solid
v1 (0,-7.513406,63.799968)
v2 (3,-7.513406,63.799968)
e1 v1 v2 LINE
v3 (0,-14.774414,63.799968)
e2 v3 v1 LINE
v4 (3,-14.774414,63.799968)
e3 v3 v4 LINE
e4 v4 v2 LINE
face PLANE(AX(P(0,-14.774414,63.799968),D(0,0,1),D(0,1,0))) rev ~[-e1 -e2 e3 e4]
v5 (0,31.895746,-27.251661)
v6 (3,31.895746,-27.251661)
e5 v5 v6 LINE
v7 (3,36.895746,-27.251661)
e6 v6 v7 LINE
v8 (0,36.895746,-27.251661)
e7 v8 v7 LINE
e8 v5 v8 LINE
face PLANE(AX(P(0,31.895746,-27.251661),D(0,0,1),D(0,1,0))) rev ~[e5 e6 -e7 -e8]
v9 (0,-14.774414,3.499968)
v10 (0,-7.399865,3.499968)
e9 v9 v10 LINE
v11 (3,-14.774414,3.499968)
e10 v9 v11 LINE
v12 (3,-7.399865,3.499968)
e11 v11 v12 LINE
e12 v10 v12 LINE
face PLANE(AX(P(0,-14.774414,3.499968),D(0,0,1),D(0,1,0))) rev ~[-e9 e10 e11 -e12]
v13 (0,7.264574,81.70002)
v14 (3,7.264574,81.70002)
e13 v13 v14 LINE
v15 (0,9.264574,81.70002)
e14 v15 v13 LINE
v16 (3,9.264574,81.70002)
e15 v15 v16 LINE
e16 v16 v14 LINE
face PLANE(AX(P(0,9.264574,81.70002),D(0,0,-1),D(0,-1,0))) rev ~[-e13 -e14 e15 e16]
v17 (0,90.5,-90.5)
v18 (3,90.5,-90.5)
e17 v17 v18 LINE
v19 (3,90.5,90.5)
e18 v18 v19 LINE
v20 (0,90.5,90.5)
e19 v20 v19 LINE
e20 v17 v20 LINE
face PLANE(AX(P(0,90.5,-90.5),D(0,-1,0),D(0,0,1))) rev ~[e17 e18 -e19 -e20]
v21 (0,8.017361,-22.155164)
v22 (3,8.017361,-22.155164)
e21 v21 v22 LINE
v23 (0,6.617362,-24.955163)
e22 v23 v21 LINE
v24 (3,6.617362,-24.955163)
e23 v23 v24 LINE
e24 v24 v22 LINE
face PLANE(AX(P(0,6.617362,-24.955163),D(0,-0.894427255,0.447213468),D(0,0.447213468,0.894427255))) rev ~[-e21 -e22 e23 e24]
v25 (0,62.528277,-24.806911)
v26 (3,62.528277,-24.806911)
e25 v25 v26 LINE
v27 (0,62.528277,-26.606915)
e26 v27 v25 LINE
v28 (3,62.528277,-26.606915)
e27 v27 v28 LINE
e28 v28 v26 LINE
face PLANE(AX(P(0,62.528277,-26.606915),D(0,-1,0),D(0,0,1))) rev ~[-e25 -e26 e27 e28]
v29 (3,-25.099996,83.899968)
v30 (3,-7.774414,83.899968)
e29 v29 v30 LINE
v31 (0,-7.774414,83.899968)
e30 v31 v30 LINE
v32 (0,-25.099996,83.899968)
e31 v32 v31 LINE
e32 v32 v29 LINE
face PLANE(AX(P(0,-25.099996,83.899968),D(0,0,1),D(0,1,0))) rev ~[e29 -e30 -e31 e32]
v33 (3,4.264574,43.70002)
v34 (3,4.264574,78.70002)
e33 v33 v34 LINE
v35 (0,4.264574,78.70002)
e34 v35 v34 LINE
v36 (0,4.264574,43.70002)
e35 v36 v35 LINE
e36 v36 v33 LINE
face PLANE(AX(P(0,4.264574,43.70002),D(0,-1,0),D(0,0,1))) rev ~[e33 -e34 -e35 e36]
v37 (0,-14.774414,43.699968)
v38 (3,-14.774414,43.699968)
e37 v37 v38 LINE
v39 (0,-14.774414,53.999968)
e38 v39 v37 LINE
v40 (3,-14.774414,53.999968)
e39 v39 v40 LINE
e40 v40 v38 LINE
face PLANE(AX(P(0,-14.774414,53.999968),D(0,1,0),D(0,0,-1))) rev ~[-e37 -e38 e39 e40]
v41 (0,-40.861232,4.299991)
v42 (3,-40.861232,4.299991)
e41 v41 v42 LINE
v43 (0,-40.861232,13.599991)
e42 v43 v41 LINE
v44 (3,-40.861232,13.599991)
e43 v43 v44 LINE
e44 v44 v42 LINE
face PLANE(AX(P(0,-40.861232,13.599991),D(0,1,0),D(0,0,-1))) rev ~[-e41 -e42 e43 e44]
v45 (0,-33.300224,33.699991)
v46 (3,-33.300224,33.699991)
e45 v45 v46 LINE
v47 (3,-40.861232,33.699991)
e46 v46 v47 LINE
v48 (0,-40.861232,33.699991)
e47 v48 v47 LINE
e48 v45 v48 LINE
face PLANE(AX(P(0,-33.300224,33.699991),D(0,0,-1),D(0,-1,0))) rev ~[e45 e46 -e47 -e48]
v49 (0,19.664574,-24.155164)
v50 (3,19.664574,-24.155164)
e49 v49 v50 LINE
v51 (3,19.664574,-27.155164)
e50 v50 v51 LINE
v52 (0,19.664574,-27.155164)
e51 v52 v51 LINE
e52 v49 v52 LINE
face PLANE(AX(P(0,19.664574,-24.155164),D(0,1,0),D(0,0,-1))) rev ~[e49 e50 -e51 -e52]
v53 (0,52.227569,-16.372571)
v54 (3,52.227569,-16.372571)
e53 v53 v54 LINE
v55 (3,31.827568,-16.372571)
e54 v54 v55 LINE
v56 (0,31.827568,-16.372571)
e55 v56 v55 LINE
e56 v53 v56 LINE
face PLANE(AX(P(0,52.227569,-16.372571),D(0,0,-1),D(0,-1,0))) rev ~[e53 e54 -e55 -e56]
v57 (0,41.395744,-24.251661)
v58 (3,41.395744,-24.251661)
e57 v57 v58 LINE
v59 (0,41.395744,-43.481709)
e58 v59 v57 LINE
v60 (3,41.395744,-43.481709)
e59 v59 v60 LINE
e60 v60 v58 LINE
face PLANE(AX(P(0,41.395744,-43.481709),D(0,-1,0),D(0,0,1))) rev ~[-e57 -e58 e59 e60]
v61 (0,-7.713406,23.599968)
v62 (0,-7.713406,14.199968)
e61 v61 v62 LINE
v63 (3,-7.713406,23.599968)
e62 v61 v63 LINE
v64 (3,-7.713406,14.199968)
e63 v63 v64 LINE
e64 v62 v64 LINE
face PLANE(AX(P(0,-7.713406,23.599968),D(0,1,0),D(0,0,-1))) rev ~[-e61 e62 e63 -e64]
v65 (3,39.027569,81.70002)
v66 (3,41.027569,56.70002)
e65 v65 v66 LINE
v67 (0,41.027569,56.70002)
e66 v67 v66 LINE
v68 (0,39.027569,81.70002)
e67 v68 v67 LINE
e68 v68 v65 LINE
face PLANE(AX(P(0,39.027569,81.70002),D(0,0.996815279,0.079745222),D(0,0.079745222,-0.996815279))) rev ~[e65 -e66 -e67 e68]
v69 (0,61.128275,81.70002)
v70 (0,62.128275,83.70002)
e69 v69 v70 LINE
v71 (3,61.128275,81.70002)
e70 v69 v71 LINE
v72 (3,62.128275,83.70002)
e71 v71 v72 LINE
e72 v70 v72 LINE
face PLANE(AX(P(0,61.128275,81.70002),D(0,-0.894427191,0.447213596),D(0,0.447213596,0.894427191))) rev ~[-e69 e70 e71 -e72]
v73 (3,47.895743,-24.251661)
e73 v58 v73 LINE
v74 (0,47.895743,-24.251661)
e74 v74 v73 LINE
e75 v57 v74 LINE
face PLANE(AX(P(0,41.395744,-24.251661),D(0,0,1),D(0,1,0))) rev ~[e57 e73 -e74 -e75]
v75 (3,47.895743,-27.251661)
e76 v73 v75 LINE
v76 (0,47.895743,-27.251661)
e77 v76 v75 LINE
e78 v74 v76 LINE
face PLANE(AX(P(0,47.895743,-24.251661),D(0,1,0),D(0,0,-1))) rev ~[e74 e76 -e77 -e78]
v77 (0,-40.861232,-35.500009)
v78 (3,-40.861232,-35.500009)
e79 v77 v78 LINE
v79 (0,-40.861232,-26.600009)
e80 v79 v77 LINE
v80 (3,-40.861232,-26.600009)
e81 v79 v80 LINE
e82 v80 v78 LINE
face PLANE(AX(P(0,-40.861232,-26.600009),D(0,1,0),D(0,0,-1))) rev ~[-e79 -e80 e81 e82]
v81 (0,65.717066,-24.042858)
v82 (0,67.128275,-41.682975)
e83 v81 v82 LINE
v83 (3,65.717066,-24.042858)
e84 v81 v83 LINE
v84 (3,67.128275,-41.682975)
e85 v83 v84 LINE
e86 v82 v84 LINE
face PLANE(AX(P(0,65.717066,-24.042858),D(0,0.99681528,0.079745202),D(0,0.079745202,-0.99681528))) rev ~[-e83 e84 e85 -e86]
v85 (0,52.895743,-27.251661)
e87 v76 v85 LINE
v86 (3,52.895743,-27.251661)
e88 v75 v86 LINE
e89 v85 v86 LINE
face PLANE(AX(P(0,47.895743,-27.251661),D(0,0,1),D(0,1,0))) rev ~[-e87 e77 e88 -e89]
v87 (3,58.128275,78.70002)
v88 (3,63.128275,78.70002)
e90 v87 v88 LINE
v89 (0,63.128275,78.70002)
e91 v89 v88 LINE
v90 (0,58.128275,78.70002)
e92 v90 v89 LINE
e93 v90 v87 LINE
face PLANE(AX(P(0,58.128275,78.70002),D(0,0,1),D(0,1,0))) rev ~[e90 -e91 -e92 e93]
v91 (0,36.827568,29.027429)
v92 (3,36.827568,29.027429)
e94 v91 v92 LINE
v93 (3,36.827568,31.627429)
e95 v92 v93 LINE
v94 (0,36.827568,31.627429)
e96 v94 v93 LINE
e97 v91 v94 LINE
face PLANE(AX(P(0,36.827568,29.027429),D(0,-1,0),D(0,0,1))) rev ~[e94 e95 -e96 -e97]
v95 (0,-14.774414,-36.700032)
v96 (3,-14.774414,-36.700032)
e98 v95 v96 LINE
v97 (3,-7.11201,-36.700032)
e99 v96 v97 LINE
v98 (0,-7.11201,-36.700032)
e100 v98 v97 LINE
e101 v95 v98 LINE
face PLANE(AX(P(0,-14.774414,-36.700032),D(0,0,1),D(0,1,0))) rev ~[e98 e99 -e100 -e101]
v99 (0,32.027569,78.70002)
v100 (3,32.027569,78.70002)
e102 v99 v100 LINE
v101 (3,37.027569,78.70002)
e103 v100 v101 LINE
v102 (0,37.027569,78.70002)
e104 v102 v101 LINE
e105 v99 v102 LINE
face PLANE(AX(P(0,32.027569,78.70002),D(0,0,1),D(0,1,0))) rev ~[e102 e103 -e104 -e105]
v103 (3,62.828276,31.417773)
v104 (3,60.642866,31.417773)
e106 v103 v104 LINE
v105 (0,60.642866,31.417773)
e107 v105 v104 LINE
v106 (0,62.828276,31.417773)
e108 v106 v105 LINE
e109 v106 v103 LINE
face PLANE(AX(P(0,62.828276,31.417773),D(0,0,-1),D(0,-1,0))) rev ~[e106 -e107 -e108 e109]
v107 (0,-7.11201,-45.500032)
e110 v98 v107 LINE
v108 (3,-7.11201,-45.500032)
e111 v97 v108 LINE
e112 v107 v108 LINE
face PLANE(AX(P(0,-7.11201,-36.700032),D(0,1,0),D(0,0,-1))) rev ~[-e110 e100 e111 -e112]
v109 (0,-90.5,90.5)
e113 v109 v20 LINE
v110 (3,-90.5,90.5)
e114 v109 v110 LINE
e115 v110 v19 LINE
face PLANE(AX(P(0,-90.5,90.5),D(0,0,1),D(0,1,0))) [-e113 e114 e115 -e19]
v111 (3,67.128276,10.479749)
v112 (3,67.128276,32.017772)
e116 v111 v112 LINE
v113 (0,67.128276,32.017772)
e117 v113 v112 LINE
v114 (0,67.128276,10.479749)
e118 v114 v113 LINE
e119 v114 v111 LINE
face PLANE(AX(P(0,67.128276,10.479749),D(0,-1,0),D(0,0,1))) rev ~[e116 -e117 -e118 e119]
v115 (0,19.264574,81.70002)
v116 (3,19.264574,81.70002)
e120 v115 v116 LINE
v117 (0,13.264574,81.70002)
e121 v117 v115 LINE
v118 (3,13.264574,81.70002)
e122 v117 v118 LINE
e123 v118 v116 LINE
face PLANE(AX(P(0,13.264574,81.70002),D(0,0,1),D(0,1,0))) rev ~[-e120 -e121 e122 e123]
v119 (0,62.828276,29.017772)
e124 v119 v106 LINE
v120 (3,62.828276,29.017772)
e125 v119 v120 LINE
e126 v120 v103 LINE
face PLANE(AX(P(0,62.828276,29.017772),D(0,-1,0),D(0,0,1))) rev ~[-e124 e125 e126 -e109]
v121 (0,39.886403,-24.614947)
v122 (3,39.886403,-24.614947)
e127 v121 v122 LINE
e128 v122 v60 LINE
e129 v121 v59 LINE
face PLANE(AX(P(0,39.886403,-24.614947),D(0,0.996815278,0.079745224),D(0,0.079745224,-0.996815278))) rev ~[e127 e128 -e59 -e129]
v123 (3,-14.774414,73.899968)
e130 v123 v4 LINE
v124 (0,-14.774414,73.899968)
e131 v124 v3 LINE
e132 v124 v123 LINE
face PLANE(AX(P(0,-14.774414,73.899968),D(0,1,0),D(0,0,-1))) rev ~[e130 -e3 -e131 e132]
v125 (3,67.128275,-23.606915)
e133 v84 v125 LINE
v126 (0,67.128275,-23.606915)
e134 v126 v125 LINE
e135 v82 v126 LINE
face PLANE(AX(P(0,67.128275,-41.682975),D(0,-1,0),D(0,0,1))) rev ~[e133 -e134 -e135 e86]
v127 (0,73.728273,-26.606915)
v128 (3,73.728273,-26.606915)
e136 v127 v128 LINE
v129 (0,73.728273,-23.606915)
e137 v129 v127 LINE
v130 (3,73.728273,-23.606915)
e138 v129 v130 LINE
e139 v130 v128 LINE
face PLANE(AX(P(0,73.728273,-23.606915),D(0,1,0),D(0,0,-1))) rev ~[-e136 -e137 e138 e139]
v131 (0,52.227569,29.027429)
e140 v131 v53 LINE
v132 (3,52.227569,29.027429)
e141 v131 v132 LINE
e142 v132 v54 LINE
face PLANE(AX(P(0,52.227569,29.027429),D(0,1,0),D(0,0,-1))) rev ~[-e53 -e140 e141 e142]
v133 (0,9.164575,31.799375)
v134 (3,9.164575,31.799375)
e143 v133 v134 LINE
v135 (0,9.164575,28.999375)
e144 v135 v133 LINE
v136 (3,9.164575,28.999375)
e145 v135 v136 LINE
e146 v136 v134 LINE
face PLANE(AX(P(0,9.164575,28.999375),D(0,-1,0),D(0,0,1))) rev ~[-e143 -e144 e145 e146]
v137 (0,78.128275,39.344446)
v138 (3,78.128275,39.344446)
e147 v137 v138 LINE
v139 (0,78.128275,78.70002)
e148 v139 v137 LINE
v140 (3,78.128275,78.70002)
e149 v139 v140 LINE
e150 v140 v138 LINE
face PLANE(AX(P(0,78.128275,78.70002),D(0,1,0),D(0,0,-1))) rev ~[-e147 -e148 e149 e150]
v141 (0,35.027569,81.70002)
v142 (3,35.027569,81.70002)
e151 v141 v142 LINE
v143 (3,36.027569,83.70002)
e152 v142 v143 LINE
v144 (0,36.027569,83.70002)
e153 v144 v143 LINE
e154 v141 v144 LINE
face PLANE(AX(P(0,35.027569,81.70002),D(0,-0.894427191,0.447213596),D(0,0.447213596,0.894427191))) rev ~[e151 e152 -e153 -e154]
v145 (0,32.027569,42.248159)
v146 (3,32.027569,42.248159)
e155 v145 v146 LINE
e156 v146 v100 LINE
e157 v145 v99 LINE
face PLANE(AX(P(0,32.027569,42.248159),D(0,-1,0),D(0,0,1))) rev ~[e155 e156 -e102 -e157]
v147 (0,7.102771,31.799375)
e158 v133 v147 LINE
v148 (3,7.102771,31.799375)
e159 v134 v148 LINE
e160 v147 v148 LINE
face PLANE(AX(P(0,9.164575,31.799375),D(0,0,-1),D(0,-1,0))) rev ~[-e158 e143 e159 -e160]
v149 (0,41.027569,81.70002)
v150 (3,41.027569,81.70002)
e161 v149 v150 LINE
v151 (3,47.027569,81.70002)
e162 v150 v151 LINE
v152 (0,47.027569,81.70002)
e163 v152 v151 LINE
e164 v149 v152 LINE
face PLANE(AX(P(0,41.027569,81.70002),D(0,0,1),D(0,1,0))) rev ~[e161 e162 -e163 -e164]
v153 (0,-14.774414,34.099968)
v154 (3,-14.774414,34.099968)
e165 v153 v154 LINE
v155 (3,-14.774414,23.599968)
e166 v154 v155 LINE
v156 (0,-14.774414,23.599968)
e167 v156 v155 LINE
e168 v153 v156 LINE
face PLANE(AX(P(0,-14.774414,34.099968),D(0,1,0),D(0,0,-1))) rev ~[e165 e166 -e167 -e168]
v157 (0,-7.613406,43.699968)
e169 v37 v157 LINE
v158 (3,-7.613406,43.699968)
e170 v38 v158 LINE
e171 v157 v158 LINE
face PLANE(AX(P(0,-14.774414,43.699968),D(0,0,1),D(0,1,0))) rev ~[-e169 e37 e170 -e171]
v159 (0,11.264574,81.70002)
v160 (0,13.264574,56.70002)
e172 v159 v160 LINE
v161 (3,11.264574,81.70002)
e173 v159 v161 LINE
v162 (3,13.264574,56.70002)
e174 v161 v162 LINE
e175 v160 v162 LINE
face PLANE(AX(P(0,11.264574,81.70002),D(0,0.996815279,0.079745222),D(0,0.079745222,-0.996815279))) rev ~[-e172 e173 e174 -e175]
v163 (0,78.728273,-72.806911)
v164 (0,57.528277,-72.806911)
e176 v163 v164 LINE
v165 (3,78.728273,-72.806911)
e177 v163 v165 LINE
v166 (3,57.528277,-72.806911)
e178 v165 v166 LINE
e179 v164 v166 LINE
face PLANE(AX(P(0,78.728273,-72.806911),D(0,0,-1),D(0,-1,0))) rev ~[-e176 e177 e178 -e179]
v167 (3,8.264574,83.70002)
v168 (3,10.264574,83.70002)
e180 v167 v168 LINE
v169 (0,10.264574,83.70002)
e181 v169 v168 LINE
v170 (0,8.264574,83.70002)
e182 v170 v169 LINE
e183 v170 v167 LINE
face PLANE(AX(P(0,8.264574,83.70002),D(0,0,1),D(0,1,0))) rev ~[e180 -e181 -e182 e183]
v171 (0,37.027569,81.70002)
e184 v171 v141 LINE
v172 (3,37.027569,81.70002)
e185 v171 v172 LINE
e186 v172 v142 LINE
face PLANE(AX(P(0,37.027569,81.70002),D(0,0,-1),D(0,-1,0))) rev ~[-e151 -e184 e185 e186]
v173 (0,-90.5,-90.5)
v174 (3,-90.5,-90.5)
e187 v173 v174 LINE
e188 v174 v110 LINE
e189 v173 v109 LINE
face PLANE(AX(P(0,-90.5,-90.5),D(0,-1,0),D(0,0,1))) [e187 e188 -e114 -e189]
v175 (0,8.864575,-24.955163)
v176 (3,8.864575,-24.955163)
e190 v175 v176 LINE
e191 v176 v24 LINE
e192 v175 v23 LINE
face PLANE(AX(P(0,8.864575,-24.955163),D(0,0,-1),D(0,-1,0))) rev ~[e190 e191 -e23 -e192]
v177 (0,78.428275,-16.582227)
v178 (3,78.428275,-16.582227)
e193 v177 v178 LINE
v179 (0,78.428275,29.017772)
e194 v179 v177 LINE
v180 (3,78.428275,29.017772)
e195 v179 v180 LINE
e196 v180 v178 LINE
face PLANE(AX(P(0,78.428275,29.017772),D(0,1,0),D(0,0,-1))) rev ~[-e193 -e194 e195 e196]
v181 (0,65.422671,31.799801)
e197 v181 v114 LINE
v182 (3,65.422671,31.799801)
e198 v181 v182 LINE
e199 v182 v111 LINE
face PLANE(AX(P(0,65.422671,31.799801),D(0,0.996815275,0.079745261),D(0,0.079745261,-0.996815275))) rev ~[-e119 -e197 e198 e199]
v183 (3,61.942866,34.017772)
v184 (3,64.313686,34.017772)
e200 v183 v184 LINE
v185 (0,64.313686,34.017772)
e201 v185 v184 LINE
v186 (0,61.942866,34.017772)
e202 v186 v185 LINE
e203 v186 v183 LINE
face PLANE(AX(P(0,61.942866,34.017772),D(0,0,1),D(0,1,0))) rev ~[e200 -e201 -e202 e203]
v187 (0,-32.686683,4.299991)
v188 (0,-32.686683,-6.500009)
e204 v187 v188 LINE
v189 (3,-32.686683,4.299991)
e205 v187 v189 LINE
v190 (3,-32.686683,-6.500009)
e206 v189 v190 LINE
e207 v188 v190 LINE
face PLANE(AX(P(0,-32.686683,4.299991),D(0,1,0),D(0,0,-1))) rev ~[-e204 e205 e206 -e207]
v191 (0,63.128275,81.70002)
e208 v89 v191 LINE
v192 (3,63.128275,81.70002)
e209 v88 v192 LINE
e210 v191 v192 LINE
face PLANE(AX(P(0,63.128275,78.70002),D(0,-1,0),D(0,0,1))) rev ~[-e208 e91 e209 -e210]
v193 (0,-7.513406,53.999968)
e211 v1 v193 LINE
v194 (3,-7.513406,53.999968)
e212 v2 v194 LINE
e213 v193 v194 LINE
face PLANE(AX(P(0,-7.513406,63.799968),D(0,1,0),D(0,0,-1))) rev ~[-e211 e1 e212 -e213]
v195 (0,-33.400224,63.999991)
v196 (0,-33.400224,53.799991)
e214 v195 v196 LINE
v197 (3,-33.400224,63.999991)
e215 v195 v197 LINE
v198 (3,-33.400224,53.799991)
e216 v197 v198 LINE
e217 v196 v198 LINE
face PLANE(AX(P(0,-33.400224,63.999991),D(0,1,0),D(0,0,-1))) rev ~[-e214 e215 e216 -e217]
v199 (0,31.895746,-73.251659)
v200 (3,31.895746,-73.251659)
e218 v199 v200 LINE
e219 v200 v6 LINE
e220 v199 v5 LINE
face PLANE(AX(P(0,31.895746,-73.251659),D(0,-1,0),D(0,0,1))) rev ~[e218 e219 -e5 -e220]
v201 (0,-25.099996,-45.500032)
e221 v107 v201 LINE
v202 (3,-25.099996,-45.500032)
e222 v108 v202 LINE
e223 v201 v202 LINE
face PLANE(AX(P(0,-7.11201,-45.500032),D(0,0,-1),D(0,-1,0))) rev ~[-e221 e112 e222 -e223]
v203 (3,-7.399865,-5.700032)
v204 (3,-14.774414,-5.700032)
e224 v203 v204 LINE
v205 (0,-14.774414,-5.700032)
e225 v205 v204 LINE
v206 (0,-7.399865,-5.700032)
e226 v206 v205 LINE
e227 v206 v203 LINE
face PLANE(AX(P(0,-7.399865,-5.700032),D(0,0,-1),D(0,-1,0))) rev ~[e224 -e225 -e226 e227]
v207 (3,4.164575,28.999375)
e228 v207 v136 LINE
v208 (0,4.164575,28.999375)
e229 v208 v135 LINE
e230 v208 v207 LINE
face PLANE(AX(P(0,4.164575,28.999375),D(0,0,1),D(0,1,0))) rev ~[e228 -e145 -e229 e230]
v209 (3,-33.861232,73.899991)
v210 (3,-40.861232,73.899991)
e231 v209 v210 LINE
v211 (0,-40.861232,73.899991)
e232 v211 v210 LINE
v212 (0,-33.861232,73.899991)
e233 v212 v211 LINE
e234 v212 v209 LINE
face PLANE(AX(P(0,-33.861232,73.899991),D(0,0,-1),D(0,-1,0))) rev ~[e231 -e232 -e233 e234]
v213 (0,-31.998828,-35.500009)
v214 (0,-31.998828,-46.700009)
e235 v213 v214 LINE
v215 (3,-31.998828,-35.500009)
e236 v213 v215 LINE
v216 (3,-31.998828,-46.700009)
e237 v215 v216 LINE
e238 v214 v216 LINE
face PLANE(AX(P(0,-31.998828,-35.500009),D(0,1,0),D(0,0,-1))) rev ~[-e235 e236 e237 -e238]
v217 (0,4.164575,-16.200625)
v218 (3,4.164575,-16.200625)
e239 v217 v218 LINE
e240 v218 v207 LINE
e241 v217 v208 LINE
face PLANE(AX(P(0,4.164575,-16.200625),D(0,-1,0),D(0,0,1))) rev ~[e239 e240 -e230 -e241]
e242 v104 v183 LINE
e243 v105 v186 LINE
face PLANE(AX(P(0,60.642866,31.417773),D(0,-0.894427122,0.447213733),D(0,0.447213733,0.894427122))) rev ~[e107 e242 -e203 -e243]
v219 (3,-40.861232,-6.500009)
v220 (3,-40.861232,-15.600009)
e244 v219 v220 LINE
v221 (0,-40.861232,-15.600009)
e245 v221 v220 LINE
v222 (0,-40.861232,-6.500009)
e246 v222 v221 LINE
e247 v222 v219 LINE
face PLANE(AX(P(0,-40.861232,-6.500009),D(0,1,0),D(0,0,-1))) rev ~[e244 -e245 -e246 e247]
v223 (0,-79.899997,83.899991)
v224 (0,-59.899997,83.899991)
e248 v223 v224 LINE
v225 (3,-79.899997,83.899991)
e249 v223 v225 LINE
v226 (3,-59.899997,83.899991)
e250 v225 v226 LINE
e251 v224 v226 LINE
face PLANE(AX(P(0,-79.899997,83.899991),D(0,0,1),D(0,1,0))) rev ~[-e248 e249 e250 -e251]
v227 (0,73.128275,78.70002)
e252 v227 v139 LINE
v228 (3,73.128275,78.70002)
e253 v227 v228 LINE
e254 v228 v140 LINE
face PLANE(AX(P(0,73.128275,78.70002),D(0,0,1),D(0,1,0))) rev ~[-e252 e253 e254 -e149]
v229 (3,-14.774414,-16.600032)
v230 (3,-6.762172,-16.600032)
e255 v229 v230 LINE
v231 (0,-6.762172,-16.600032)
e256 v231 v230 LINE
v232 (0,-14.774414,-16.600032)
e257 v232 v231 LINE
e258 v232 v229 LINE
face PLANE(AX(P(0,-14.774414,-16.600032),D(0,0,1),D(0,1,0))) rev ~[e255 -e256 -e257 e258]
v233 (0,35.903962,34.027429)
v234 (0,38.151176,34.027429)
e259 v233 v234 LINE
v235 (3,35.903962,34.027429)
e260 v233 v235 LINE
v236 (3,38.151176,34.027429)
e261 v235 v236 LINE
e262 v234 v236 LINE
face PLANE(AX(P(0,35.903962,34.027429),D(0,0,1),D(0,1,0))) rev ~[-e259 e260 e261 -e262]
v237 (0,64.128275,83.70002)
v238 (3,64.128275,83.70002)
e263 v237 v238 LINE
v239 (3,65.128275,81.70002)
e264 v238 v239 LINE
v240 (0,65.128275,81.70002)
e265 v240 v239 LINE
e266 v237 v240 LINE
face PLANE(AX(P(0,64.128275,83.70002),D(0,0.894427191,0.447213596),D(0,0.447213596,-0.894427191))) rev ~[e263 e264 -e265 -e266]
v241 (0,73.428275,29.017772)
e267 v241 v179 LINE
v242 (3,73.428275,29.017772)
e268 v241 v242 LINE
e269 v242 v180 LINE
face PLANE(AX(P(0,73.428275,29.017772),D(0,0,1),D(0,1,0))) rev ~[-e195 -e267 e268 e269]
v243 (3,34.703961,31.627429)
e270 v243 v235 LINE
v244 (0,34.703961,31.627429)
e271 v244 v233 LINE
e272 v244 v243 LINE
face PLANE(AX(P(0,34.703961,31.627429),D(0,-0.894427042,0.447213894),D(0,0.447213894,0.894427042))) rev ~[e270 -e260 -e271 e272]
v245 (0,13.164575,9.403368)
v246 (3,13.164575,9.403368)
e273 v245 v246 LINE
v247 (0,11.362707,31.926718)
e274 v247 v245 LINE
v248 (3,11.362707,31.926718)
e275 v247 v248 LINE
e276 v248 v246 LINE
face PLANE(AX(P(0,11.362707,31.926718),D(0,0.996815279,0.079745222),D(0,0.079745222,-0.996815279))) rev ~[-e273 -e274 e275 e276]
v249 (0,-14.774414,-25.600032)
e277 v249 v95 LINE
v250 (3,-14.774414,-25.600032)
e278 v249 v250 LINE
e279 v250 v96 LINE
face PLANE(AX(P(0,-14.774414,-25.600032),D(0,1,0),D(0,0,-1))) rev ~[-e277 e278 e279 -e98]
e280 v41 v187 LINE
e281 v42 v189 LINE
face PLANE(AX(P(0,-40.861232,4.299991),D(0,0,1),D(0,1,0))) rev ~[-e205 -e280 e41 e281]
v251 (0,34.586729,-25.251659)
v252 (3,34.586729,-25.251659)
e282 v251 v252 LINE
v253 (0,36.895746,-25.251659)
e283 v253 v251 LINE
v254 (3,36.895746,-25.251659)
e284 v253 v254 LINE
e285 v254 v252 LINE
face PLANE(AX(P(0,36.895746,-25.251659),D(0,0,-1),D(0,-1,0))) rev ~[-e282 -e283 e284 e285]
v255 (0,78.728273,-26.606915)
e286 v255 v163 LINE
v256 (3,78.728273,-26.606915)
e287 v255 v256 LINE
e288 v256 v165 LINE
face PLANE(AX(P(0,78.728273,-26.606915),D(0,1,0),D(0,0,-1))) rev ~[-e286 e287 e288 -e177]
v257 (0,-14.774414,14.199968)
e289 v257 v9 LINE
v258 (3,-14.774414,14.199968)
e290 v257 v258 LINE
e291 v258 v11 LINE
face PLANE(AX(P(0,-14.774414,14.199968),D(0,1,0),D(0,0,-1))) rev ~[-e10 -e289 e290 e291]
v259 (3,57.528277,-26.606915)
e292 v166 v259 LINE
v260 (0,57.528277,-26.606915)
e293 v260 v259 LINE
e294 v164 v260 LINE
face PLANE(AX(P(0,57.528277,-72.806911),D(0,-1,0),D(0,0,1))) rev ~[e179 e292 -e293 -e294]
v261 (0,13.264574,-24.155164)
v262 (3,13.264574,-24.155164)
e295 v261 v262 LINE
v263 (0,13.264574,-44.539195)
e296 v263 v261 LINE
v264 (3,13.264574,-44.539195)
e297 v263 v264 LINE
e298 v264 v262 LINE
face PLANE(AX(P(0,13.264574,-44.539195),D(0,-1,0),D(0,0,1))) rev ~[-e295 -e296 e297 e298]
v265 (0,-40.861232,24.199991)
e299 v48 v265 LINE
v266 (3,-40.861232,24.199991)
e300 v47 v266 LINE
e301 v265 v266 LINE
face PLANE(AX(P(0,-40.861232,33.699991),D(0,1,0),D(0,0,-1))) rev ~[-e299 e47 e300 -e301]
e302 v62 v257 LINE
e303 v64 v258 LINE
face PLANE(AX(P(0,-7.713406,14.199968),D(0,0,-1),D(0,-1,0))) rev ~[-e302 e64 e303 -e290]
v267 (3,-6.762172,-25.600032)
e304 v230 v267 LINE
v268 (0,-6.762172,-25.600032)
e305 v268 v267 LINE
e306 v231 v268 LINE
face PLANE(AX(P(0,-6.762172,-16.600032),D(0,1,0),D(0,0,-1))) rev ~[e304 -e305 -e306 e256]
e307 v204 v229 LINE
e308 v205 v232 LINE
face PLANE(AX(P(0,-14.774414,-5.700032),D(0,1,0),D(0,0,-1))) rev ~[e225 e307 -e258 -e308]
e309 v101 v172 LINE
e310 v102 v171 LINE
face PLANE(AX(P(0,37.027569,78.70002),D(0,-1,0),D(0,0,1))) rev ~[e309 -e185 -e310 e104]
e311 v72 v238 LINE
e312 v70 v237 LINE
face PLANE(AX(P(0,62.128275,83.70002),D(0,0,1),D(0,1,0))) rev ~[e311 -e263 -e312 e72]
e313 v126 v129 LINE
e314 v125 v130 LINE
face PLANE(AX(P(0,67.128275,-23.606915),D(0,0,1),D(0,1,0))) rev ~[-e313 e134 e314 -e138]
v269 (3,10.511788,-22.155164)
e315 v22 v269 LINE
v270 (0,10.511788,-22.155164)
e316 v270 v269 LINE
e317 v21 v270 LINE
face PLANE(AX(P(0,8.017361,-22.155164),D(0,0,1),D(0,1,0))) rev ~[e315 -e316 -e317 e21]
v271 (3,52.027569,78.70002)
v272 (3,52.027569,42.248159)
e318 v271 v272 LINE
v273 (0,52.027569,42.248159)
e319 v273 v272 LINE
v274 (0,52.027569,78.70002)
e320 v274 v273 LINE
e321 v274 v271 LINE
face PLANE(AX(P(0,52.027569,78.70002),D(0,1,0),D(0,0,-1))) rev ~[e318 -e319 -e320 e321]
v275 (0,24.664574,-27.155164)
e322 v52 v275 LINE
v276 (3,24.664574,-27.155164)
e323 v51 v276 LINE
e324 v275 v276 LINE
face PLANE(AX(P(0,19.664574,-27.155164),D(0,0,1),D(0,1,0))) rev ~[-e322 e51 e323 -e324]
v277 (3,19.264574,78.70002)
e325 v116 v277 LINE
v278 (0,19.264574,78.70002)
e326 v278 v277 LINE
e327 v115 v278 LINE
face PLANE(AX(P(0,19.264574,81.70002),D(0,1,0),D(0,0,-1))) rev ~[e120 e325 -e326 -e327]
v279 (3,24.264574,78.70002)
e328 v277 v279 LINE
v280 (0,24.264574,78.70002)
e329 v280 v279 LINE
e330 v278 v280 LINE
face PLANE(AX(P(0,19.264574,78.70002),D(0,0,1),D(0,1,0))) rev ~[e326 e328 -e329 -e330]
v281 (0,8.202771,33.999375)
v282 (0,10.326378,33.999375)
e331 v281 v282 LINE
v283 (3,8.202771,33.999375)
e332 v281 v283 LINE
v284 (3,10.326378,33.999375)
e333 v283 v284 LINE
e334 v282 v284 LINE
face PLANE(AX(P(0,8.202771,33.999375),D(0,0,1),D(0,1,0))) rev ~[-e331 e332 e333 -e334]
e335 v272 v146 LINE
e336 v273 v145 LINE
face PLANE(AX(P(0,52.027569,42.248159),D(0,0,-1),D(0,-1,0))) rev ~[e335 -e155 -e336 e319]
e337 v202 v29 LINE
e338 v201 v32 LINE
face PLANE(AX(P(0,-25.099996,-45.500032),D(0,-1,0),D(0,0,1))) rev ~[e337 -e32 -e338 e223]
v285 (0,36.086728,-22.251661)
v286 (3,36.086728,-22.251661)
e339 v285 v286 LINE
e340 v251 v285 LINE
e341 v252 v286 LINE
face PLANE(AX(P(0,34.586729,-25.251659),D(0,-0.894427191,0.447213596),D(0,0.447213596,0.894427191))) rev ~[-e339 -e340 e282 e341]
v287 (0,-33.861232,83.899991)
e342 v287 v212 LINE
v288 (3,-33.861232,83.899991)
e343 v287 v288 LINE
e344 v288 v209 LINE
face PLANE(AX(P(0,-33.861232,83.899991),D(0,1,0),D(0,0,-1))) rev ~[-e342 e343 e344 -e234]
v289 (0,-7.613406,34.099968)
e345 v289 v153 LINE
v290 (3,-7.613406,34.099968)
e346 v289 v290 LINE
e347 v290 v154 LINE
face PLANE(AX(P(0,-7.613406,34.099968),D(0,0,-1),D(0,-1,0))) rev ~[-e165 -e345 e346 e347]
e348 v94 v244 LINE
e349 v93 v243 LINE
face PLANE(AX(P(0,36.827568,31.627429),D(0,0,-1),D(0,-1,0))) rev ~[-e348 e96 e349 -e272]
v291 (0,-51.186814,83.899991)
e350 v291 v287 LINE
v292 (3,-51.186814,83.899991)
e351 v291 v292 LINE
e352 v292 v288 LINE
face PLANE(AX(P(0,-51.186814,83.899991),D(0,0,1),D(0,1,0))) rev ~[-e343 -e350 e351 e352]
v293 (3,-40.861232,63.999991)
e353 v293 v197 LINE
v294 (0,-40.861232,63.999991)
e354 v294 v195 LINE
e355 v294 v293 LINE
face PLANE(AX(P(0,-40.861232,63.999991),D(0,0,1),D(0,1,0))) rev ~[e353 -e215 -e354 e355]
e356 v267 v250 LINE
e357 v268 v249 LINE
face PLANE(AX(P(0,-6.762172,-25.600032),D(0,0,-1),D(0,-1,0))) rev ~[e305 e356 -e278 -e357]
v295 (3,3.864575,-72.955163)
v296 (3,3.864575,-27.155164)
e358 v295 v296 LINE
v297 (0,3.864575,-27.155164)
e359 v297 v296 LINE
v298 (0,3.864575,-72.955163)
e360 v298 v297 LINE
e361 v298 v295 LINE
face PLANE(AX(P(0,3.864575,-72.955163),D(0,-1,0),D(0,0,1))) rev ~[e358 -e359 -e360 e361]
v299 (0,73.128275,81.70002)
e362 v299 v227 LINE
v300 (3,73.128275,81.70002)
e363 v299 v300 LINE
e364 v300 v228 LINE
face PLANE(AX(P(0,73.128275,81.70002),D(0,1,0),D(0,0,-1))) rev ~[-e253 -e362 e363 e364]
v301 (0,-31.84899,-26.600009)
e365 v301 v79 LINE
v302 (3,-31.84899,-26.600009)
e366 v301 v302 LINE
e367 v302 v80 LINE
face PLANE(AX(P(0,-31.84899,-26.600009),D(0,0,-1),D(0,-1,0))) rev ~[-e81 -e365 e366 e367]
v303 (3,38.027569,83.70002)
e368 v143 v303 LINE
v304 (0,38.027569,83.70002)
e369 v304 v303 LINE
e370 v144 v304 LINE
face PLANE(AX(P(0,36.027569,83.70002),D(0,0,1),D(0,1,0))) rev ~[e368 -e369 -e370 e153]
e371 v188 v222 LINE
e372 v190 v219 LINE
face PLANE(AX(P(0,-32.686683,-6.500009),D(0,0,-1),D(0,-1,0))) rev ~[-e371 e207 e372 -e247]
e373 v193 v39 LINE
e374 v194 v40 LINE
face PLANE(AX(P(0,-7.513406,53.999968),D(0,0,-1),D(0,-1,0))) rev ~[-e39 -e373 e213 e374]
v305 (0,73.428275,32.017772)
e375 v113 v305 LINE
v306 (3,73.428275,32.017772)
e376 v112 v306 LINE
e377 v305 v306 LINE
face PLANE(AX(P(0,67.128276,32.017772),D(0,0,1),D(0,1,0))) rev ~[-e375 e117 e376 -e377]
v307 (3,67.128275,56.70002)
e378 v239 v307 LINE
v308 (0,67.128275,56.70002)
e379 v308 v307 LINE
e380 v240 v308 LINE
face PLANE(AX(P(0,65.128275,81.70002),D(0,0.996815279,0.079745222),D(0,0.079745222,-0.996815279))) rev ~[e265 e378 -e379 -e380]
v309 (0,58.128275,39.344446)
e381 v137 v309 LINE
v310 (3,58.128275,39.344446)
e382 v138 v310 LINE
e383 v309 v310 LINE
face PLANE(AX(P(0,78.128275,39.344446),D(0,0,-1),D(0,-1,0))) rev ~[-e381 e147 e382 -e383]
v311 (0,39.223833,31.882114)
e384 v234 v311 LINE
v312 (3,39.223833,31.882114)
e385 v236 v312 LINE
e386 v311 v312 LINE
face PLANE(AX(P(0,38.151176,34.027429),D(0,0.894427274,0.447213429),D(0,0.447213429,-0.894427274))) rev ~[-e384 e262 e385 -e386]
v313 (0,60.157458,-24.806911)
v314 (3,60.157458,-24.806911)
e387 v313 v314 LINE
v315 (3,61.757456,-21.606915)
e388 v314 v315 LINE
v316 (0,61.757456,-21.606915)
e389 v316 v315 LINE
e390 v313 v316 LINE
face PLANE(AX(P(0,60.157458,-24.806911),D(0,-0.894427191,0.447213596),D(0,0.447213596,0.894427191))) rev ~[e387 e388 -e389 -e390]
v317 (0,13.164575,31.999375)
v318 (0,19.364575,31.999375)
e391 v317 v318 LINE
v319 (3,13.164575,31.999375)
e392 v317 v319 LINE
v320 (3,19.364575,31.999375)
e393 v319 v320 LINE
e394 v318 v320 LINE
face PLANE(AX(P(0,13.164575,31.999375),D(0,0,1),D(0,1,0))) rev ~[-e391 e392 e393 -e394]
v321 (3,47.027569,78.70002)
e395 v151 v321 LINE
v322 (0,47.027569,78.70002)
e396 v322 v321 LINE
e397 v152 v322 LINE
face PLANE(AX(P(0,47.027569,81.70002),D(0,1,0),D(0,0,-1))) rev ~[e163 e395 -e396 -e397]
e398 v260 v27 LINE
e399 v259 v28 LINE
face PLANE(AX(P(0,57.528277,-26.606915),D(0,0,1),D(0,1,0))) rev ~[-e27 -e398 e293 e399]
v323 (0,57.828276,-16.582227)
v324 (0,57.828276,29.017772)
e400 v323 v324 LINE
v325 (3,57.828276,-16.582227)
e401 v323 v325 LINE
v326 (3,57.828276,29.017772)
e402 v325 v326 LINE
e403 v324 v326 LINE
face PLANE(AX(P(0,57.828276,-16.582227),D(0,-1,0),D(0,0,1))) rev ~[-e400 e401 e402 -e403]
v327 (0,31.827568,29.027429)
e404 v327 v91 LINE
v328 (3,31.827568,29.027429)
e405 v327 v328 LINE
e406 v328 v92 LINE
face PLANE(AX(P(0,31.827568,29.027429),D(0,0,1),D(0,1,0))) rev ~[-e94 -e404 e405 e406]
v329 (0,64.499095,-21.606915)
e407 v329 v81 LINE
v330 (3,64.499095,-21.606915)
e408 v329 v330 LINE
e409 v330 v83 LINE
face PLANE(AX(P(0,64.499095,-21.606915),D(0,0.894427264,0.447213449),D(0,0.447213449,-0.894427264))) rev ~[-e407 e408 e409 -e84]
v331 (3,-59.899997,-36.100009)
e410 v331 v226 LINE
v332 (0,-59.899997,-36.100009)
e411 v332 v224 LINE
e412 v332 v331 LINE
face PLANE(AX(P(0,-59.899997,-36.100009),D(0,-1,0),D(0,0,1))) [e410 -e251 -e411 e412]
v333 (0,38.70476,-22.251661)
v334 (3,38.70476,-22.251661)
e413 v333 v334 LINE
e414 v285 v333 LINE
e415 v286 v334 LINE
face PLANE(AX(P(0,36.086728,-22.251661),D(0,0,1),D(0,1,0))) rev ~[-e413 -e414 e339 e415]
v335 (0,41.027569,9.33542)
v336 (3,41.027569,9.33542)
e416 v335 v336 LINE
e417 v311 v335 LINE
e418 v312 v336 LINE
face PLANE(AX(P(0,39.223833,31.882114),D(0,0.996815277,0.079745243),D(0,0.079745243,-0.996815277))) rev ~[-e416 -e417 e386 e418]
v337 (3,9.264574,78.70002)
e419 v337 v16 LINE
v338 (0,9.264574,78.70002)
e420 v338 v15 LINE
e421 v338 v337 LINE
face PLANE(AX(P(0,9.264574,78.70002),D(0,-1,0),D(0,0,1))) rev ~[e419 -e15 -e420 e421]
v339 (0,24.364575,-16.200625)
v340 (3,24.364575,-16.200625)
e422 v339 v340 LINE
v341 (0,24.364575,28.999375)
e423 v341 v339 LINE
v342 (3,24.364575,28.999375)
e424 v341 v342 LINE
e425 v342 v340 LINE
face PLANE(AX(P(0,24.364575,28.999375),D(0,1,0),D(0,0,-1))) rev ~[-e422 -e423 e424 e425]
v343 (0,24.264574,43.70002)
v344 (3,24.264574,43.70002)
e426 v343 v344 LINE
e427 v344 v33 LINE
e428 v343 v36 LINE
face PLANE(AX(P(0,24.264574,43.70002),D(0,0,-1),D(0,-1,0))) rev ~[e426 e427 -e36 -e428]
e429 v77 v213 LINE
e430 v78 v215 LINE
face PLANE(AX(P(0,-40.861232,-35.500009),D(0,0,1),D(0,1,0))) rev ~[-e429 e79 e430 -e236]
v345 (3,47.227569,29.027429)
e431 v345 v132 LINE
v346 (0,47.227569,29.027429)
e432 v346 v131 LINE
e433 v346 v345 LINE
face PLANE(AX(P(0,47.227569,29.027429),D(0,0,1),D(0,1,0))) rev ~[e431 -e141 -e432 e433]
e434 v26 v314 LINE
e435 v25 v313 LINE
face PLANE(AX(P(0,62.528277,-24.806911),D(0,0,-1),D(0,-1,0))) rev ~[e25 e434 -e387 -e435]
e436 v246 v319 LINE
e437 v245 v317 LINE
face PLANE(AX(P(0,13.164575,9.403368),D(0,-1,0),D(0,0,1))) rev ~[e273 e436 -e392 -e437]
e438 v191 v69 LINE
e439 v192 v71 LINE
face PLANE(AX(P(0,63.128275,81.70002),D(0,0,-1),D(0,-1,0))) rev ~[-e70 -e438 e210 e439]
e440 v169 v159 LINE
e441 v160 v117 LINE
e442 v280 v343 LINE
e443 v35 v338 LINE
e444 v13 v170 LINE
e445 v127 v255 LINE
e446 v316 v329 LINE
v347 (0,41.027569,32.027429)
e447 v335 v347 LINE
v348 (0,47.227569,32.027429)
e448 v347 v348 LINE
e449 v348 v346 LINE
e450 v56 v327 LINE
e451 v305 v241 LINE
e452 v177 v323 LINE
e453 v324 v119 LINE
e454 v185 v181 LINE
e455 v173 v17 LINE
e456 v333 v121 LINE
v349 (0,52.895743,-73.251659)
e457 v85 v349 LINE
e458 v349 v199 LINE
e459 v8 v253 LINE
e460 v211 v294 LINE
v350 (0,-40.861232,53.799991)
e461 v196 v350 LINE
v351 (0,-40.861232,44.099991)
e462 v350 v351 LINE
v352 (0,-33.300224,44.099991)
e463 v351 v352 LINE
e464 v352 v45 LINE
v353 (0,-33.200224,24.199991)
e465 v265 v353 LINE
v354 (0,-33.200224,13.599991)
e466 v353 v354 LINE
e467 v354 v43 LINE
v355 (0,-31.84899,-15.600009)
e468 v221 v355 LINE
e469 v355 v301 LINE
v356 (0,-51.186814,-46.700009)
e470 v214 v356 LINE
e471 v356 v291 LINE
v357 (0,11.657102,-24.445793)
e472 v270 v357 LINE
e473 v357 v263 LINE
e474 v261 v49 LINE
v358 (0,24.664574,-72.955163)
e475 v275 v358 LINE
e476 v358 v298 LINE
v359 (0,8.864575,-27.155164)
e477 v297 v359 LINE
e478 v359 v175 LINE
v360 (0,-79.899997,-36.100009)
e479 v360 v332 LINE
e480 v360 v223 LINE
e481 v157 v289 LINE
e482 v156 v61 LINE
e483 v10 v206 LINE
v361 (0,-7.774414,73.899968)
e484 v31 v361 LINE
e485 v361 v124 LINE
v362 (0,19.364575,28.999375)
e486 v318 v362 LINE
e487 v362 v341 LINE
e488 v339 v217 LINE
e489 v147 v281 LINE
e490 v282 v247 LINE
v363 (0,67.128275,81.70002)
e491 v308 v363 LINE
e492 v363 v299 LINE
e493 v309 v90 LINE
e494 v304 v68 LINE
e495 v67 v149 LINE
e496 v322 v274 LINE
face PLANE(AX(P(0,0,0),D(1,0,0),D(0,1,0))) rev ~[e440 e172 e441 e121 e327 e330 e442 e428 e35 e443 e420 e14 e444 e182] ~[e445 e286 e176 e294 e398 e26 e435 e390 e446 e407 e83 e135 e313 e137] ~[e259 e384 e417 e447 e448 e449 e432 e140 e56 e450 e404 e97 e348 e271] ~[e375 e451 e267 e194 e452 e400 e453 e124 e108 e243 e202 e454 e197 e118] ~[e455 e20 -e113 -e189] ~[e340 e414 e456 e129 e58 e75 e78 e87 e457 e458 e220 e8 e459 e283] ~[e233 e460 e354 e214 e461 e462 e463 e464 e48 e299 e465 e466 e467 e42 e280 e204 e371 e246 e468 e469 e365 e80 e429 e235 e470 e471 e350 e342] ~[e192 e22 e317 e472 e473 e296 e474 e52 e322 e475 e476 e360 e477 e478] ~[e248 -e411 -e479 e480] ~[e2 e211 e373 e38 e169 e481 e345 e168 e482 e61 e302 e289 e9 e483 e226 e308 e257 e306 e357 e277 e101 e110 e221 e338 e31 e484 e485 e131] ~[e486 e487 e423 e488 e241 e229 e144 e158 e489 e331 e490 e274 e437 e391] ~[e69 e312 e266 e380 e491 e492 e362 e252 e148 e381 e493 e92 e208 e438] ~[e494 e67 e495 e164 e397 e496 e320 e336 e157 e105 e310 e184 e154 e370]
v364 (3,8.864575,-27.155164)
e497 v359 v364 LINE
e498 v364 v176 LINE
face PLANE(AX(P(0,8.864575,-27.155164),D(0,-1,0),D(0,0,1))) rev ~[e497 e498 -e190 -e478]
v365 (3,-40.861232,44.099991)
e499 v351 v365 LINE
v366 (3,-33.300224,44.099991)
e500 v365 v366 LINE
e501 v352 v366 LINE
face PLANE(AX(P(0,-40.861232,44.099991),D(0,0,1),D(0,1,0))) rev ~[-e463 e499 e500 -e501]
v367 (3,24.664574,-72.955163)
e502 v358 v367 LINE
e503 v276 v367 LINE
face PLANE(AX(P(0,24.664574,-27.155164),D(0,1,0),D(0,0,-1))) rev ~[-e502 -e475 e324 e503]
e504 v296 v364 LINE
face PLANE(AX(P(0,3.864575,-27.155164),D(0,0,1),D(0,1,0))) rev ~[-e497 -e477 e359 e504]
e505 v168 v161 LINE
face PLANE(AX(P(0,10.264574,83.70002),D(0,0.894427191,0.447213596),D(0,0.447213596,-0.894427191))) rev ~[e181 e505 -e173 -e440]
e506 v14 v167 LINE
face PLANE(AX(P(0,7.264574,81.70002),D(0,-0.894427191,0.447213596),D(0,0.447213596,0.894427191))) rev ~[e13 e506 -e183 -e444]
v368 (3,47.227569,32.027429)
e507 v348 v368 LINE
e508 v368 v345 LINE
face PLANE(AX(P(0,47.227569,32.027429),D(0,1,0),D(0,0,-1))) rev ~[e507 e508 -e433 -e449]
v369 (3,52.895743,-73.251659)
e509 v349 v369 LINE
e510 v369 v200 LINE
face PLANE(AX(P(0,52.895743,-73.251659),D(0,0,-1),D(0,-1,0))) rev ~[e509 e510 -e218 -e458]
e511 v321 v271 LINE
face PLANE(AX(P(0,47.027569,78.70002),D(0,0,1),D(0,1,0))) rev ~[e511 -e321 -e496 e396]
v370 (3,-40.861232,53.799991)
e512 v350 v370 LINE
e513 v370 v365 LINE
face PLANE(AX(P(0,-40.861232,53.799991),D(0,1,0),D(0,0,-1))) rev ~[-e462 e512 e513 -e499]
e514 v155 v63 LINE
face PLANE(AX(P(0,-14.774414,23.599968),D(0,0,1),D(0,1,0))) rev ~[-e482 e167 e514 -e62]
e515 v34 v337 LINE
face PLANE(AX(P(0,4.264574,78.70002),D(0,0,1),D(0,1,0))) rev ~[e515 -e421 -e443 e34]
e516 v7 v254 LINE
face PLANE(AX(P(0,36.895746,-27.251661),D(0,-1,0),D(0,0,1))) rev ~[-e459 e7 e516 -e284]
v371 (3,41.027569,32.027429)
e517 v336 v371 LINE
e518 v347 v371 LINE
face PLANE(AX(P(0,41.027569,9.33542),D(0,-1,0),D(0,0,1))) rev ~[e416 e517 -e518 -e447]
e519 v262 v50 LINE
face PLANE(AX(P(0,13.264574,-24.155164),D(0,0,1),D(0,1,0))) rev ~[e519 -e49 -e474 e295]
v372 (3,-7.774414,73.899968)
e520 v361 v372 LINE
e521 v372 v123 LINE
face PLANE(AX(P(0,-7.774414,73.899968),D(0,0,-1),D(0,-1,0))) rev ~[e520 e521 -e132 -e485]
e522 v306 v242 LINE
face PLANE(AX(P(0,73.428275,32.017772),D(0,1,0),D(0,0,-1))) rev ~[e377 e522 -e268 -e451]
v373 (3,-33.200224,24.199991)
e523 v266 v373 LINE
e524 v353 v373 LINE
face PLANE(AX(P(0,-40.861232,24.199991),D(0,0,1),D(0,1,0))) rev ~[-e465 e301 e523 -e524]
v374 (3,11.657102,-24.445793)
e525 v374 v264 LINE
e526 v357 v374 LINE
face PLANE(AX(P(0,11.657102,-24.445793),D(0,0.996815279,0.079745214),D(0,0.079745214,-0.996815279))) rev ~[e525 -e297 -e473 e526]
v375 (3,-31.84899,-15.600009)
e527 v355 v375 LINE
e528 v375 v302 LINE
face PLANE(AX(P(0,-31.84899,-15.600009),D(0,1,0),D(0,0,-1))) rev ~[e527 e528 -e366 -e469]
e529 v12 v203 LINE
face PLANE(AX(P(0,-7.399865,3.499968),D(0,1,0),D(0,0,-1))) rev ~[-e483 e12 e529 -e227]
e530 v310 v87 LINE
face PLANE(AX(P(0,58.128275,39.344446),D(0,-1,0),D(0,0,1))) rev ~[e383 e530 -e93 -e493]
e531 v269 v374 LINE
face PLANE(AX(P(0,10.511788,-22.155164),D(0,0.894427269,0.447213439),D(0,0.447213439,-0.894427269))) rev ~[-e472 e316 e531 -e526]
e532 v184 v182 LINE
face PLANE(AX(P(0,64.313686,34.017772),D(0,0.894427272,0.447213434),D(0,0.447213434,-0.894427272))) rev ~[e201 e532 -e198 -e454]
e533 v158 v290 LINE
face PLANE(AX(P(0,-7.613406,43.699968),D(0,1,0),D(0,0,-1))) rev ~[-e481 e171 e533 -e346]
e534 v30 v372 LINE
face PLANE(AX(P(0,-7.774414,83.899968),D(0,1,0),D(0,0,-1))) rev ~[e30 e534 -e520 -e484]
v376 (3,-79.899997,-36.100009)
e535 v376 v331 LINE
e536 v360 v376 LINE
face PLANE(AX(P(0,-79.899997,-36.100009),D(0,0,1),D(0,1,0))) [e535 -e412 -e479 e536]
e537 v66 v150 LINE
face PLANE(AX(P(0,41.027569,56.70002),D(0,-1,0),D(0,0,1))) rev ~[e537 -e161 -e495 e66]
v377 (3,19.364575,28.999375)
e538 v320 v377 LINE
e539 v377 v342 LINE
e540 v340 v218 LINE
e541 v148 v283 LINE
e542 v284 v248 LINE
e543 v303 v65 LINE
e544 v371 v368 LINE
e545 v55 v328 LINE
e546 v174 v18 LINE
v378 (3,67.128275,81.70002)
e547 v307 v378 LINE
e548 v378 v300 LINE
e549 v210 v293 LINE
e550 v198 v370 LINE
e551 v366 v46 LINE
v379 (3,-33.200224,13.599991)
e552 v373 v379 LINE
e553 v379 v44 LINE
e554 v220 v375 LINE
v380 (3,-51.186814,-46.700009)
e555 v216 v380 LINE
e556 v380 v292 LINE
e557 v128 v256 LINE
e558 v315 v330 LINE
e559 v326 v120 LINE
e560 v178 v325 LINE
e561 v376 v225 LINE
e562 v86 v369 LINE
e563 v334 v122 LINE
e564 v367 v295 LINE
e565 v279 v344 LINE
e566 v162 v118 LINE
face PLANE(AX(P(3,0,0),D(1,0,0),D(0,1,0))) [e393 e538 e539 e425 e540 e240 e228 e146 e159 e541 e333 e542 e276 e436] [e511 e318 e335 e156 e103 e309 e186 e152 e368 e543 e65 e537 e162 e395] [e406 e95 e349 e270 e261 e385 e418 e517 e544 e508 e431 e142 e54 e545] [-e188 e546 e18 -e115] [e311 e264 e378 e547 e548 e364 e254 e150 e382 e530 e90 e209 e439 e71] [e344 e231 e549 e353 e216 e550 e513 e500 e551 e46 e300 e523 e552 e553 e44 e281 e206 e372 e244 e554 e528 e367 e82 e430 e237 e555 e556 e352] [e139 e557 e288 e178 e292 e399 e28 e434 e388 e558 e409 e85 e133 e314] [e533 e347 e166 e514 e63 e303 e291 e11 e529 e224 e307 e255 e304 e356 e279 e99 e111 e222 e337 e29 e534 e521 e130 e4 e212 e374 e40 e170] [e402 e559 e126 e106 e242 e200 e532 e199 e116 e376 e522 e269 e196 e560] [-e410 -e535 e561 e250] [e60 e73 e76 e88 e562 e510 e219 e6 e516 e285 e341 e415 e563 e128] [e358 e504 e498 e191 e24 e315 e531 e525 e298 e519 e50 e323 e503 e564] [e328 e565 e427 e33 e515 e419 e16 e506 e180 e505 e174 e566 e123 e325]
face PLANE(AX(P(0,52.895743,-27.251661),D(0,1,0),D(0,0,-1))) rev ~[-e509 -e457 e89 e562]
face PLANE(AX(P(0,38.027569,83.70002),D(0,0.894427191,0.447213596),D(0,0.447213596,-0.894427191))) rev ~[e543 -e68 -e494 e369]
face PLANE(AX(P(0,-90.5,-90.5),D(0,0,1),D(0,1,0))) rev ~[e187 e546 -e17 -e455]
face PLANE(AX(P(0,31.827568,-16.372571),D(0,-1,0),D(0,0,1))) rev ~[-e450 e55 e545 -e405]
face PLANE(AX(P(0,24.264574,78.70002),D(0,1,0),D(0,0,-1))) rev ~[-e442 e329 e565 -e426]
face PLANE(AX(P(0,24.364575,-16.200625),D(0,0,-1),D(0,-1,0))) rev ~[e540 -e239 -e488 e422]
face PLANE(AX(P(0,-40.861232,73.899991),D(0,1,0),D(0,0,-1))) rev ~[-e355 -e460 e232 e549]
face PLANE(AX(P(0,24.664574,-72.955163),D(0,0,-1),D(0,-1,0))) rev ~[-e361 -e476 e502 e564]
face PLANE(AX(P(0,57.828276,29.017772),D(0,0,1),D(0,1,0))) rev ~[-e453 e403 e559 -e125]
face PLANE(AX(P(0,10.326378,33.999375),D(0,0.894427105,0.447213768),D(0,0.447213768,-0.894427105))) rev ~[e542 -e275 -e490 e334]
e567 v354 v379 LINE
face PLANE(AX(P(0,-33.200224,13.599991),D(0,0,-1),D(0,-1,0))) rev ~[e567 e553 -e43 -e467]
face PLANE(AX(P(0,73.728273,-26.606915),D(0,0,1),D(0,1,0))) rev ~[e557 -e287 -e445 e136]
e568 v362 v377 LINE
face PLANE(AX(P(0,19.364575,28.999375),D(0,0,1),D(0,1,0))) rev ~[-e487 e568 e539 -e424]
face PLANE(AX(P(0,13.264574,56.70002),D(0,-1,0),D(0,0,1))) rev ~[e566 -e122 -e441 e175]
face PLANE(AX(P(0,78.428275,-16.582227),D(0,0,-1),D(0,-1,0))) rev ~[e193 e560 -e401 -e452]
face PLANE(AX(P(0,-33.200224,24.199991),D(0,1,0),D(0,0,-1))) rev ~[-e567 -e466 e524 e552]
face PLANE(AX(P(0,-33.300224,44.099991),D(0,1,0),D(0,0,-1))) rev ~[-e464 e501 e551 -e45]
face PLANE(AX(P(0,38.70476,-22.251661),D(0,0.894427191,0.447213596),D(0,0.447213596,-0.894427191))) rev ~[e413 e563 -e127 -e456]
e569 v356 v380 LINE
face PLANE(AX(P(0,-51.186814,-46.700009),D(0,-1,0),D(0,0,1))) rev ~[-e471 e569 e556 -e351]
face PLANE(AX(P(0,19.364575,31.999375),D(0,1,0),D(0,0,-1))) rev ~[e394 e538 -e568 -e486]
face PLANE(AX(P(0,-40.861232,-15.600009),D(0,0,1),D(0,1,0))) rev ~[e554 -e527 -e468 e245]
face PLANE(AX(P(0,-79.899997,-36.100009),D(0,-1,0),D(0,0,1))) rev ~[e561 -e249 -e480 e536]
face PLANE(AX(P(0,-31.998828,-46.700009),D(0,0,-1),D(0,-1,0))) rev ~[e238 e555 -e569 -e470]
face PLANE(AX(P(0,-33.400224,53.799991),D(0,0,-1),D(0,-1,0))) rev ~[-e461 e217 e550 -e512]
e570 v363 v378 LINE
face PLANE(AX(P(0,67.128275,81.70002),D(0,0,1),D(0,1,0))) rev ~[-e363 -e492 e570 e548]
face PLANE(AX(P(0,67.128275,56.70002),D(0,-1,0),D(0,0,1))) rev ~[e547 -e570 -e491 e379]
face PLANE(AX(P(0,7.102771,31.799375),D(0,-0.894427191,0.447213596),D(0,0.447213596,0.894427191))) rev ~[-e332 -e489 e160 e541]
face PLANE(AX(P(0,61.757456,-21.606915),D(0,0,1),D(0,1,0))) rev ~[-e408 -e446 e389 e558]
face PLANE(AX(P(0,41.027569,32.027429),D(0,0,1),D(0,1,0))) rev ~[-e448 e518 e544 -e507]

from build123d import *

# Parameters (mm, degrees)
F0_W     = 181
F0_H     = 181
F0_W_2   = 20
F0_H_2   = 120
F1_DEPTH = 3


with BuildPart() as f1:
    # F0 (on Right) → F1 (new body)
    with BuildSketch(Plane.YZ):
        Rectangle(F0_W, F0_H)
        Polygon((8.017361, -22.155164), (10.511788, -22.155164), (11.657102, -24.445793), (13.264574, -44.539195), (13.264574, -24.155164), (19.664574, -24.155164), (19.664574, -27.155164), (24.664574, -27.155164), (24.664574, -72.955163), (3.864575, -72.955163), (3.864575, -27.155164), (8.864575, -27.155164), (8.864575, -24.955163), (6.617362, -24.955163), align=None, mode=Mode.SUBTRACT)
        Polygon((31.895746, -73.251659), (31.895746, -27.251661), (36.895746, -27.251661), (36.895746, -25.251659), (34.586729, -25.251659), (36.086728, -22.251661), (38.70476, -22.251661), (39.886403, -24.614947), (41.395744, -43.481709), (41.395744, -24.251661), (47.895743, -24.251661), (47.895743, -27.251661), (52.895743, -27.251661), (52.895743, -73.251659), align=None, mode=Mode.SUBTRACT)
        Polygon((73.728273, -23.606915), (73.728273, -26.606915), (78.728273, -26.606915), (78.728273, -72.806911), (57.528277, -72.806911), (57.528277, -26.606915), (62.528277, -26.606915), (62.528277, -24.806911), (60.157458, -24.806911), (61.757456, -21.606915), (64.499095, -21.606915), (65.717066, -24.042858), (67.128275, -41.682975), (67.128275, -23.606915), align=None, mode=Mode.SUBTRACT)
        with Locations((-69.899997, 23.899991)):
            Rectangle(F0_W_2, F0_H_2, mode=Mode.SUBTRACT)
        Polygon((-51.186814, -46.700009), (-51.186814, 83.899991), (-33.861232, 83.899991), (-33.861232, 73.899991), (-40.861232, 73.899991), (-40.861232, 63.999991), (-33.400224, 63.999991), (-33.400224, 53.799991), (-40.861232, 53.799991), (-40.861232, 44.099991), (-33.300224, 44.099991), (-33.300224, 33.699991), (-40.861232, 33.699991), (-40.861232, 24.199991), (-33.200224, 24.199991), (-33.200224, 13.599991), (-40.861232, 13.599991), (-40.861232, 4.299991), (-32.686683, 4.299991), (-32.686683, -6.500009), (-40.861232, -6.500009), (-40.861232, -15.600009), (-31.84899, -15.600009), (-31.84899, -26.600009), (-40.861232, -26.600009), (-40.861232, -35.500009), (-31.998828, -35.500009), (-31.998828, -46.700009), align=None, mode=Mode.SUBTRACT)
        Polygon((-7.774414, 73.899968), (-14.774414, 73.899968), (-14.774414, 63.799968), (-7.513406, 63.799968), (-7.513406, 53.999968), (-14.774414, 53.999968), (-14.774414, 43.699968), (-7.613406, 43.699968), (-7.613406, 34.099968), (-14.774414, 34.099968), (-14.774414, 23.599968), (-7.713406, 23.599968), (-7.713406, 14.199968), (-14.774414, 14.199968), (-14.774414, 3.499968), (-7.399865, 3.499968), (-7.399865, -5.700032), (-14.774414, -5.700032), (-14.774414, -16.600032), (-6.762172, -16.600032), (-6.762172, -25.600032), (-14.774414, -25.600032), (-14.774414, -36.700032), (-7.11201, -36.700032), (-7.11201, -45.500032), (-25.099996, -45.500032), (-25.099996, 83.899968), (-7.774414, 83.899968), align=None, mode=Mode.SUBTRACT)
        Polygon((19.364575, 31.999375), (19.364575, 28.999375), (24.364575, 28.999375), (24.364575, -16.200625), (4.164575, -16.200625), (4.164575, 28.999375), (9.164575, 28.999375), (9.164575, 31.799375), (7.102771, 31.799375), (8.202771, 33.999375), (10.326378, 33.999375), (11.362707, 31.926718), (13.164575, 9.403368), (13.164575, 31.999375), align=None, mode=Mode.SUBTRACT)
        Polygon((38.151176, 34.027429), (39.223833, 31.882114), (41.027569, 9.33542), (41.027569, 32.027429), (47.227569, 32.027429), (47.227569, 29.027429), (52.227569, 29.027429), (52.227569, -16.372571), (31.827568, -16.372571), (31.827568, 29.027429), (36.827568, 29.027429), (36.827568, 31.627429), (34.703961, 31.627429), (35.903962, 34.027429), align=None, mode=Mode.SUBTRACT)
        Polygon((73.428275, 32.017772), (73.428275, 29.017772), (78.428275, 29.017772), (78.428275, -16.582227), (57.828276, -16.582227), (57.828276, 29.017772), (62.828276, 29.017772), (62.828276, 31.417773), (60.642866, 31.417773), (61.942866, 34.017772), (64.313686, 34.017772), (65.422671, 31.799801), (67.128276, 10.479749), (67.128276, 32.017772), align=None, mode=Mode.SUBTRACT)
        Polygon((4.264574, 43.70002), (4.264574, 78.70002), (9.264574, 78.70002), (9.264574, 81.70002), (7.264574, 81.70002), (8.264574, 83.70002), (10.264574, 83.70002), (11.264574, 81.70002), (13.264574, 56.70002), (13.264574, 81.70002), (19.264574, 81.70002), (19.264574, 78.70002), (24.264574, 78.70002), (24.264574, 43.70002), align=None, mode=Mode.SUBTRACT)
        Polygon((32.027569, 42.248159), (32.027569, 78.70002), (37.027569, 78.70002), (37.027569, 81.70002), (35.027569, 81.70002), (36.027569, 83.70002), (38.027569, 83.70002), (39.027569, 81.70002), (41.027569, 56.70002), (41.027569, 81.70002), (47.027569, 81.70002), (47.027569, 78.70002), (52.027569, 78.70002), (52.027569, 42.248159), align=None, mode=Mode.SUBTRACT)
        Polygon((58.128275, 39.344446), (58.128275, 78.70002), (63.128275, 78.70002), (63.128275, 81.70002), (61.128275, 81.70002), (62.128275, 83.70002), (64.128275, 83.70002), (65.128275, 81.70002), (67.128275, 56.70002), (67.128275, 81.70002), (73.128275, 81.70002), (73.128275, 78.70002), (78.128275, 78.70002), (78.128275, 39.344446), align=None, mode=Mode.SUBTRACT)
    extrude(amount=F1_DEPTH)


solid = f1.part
